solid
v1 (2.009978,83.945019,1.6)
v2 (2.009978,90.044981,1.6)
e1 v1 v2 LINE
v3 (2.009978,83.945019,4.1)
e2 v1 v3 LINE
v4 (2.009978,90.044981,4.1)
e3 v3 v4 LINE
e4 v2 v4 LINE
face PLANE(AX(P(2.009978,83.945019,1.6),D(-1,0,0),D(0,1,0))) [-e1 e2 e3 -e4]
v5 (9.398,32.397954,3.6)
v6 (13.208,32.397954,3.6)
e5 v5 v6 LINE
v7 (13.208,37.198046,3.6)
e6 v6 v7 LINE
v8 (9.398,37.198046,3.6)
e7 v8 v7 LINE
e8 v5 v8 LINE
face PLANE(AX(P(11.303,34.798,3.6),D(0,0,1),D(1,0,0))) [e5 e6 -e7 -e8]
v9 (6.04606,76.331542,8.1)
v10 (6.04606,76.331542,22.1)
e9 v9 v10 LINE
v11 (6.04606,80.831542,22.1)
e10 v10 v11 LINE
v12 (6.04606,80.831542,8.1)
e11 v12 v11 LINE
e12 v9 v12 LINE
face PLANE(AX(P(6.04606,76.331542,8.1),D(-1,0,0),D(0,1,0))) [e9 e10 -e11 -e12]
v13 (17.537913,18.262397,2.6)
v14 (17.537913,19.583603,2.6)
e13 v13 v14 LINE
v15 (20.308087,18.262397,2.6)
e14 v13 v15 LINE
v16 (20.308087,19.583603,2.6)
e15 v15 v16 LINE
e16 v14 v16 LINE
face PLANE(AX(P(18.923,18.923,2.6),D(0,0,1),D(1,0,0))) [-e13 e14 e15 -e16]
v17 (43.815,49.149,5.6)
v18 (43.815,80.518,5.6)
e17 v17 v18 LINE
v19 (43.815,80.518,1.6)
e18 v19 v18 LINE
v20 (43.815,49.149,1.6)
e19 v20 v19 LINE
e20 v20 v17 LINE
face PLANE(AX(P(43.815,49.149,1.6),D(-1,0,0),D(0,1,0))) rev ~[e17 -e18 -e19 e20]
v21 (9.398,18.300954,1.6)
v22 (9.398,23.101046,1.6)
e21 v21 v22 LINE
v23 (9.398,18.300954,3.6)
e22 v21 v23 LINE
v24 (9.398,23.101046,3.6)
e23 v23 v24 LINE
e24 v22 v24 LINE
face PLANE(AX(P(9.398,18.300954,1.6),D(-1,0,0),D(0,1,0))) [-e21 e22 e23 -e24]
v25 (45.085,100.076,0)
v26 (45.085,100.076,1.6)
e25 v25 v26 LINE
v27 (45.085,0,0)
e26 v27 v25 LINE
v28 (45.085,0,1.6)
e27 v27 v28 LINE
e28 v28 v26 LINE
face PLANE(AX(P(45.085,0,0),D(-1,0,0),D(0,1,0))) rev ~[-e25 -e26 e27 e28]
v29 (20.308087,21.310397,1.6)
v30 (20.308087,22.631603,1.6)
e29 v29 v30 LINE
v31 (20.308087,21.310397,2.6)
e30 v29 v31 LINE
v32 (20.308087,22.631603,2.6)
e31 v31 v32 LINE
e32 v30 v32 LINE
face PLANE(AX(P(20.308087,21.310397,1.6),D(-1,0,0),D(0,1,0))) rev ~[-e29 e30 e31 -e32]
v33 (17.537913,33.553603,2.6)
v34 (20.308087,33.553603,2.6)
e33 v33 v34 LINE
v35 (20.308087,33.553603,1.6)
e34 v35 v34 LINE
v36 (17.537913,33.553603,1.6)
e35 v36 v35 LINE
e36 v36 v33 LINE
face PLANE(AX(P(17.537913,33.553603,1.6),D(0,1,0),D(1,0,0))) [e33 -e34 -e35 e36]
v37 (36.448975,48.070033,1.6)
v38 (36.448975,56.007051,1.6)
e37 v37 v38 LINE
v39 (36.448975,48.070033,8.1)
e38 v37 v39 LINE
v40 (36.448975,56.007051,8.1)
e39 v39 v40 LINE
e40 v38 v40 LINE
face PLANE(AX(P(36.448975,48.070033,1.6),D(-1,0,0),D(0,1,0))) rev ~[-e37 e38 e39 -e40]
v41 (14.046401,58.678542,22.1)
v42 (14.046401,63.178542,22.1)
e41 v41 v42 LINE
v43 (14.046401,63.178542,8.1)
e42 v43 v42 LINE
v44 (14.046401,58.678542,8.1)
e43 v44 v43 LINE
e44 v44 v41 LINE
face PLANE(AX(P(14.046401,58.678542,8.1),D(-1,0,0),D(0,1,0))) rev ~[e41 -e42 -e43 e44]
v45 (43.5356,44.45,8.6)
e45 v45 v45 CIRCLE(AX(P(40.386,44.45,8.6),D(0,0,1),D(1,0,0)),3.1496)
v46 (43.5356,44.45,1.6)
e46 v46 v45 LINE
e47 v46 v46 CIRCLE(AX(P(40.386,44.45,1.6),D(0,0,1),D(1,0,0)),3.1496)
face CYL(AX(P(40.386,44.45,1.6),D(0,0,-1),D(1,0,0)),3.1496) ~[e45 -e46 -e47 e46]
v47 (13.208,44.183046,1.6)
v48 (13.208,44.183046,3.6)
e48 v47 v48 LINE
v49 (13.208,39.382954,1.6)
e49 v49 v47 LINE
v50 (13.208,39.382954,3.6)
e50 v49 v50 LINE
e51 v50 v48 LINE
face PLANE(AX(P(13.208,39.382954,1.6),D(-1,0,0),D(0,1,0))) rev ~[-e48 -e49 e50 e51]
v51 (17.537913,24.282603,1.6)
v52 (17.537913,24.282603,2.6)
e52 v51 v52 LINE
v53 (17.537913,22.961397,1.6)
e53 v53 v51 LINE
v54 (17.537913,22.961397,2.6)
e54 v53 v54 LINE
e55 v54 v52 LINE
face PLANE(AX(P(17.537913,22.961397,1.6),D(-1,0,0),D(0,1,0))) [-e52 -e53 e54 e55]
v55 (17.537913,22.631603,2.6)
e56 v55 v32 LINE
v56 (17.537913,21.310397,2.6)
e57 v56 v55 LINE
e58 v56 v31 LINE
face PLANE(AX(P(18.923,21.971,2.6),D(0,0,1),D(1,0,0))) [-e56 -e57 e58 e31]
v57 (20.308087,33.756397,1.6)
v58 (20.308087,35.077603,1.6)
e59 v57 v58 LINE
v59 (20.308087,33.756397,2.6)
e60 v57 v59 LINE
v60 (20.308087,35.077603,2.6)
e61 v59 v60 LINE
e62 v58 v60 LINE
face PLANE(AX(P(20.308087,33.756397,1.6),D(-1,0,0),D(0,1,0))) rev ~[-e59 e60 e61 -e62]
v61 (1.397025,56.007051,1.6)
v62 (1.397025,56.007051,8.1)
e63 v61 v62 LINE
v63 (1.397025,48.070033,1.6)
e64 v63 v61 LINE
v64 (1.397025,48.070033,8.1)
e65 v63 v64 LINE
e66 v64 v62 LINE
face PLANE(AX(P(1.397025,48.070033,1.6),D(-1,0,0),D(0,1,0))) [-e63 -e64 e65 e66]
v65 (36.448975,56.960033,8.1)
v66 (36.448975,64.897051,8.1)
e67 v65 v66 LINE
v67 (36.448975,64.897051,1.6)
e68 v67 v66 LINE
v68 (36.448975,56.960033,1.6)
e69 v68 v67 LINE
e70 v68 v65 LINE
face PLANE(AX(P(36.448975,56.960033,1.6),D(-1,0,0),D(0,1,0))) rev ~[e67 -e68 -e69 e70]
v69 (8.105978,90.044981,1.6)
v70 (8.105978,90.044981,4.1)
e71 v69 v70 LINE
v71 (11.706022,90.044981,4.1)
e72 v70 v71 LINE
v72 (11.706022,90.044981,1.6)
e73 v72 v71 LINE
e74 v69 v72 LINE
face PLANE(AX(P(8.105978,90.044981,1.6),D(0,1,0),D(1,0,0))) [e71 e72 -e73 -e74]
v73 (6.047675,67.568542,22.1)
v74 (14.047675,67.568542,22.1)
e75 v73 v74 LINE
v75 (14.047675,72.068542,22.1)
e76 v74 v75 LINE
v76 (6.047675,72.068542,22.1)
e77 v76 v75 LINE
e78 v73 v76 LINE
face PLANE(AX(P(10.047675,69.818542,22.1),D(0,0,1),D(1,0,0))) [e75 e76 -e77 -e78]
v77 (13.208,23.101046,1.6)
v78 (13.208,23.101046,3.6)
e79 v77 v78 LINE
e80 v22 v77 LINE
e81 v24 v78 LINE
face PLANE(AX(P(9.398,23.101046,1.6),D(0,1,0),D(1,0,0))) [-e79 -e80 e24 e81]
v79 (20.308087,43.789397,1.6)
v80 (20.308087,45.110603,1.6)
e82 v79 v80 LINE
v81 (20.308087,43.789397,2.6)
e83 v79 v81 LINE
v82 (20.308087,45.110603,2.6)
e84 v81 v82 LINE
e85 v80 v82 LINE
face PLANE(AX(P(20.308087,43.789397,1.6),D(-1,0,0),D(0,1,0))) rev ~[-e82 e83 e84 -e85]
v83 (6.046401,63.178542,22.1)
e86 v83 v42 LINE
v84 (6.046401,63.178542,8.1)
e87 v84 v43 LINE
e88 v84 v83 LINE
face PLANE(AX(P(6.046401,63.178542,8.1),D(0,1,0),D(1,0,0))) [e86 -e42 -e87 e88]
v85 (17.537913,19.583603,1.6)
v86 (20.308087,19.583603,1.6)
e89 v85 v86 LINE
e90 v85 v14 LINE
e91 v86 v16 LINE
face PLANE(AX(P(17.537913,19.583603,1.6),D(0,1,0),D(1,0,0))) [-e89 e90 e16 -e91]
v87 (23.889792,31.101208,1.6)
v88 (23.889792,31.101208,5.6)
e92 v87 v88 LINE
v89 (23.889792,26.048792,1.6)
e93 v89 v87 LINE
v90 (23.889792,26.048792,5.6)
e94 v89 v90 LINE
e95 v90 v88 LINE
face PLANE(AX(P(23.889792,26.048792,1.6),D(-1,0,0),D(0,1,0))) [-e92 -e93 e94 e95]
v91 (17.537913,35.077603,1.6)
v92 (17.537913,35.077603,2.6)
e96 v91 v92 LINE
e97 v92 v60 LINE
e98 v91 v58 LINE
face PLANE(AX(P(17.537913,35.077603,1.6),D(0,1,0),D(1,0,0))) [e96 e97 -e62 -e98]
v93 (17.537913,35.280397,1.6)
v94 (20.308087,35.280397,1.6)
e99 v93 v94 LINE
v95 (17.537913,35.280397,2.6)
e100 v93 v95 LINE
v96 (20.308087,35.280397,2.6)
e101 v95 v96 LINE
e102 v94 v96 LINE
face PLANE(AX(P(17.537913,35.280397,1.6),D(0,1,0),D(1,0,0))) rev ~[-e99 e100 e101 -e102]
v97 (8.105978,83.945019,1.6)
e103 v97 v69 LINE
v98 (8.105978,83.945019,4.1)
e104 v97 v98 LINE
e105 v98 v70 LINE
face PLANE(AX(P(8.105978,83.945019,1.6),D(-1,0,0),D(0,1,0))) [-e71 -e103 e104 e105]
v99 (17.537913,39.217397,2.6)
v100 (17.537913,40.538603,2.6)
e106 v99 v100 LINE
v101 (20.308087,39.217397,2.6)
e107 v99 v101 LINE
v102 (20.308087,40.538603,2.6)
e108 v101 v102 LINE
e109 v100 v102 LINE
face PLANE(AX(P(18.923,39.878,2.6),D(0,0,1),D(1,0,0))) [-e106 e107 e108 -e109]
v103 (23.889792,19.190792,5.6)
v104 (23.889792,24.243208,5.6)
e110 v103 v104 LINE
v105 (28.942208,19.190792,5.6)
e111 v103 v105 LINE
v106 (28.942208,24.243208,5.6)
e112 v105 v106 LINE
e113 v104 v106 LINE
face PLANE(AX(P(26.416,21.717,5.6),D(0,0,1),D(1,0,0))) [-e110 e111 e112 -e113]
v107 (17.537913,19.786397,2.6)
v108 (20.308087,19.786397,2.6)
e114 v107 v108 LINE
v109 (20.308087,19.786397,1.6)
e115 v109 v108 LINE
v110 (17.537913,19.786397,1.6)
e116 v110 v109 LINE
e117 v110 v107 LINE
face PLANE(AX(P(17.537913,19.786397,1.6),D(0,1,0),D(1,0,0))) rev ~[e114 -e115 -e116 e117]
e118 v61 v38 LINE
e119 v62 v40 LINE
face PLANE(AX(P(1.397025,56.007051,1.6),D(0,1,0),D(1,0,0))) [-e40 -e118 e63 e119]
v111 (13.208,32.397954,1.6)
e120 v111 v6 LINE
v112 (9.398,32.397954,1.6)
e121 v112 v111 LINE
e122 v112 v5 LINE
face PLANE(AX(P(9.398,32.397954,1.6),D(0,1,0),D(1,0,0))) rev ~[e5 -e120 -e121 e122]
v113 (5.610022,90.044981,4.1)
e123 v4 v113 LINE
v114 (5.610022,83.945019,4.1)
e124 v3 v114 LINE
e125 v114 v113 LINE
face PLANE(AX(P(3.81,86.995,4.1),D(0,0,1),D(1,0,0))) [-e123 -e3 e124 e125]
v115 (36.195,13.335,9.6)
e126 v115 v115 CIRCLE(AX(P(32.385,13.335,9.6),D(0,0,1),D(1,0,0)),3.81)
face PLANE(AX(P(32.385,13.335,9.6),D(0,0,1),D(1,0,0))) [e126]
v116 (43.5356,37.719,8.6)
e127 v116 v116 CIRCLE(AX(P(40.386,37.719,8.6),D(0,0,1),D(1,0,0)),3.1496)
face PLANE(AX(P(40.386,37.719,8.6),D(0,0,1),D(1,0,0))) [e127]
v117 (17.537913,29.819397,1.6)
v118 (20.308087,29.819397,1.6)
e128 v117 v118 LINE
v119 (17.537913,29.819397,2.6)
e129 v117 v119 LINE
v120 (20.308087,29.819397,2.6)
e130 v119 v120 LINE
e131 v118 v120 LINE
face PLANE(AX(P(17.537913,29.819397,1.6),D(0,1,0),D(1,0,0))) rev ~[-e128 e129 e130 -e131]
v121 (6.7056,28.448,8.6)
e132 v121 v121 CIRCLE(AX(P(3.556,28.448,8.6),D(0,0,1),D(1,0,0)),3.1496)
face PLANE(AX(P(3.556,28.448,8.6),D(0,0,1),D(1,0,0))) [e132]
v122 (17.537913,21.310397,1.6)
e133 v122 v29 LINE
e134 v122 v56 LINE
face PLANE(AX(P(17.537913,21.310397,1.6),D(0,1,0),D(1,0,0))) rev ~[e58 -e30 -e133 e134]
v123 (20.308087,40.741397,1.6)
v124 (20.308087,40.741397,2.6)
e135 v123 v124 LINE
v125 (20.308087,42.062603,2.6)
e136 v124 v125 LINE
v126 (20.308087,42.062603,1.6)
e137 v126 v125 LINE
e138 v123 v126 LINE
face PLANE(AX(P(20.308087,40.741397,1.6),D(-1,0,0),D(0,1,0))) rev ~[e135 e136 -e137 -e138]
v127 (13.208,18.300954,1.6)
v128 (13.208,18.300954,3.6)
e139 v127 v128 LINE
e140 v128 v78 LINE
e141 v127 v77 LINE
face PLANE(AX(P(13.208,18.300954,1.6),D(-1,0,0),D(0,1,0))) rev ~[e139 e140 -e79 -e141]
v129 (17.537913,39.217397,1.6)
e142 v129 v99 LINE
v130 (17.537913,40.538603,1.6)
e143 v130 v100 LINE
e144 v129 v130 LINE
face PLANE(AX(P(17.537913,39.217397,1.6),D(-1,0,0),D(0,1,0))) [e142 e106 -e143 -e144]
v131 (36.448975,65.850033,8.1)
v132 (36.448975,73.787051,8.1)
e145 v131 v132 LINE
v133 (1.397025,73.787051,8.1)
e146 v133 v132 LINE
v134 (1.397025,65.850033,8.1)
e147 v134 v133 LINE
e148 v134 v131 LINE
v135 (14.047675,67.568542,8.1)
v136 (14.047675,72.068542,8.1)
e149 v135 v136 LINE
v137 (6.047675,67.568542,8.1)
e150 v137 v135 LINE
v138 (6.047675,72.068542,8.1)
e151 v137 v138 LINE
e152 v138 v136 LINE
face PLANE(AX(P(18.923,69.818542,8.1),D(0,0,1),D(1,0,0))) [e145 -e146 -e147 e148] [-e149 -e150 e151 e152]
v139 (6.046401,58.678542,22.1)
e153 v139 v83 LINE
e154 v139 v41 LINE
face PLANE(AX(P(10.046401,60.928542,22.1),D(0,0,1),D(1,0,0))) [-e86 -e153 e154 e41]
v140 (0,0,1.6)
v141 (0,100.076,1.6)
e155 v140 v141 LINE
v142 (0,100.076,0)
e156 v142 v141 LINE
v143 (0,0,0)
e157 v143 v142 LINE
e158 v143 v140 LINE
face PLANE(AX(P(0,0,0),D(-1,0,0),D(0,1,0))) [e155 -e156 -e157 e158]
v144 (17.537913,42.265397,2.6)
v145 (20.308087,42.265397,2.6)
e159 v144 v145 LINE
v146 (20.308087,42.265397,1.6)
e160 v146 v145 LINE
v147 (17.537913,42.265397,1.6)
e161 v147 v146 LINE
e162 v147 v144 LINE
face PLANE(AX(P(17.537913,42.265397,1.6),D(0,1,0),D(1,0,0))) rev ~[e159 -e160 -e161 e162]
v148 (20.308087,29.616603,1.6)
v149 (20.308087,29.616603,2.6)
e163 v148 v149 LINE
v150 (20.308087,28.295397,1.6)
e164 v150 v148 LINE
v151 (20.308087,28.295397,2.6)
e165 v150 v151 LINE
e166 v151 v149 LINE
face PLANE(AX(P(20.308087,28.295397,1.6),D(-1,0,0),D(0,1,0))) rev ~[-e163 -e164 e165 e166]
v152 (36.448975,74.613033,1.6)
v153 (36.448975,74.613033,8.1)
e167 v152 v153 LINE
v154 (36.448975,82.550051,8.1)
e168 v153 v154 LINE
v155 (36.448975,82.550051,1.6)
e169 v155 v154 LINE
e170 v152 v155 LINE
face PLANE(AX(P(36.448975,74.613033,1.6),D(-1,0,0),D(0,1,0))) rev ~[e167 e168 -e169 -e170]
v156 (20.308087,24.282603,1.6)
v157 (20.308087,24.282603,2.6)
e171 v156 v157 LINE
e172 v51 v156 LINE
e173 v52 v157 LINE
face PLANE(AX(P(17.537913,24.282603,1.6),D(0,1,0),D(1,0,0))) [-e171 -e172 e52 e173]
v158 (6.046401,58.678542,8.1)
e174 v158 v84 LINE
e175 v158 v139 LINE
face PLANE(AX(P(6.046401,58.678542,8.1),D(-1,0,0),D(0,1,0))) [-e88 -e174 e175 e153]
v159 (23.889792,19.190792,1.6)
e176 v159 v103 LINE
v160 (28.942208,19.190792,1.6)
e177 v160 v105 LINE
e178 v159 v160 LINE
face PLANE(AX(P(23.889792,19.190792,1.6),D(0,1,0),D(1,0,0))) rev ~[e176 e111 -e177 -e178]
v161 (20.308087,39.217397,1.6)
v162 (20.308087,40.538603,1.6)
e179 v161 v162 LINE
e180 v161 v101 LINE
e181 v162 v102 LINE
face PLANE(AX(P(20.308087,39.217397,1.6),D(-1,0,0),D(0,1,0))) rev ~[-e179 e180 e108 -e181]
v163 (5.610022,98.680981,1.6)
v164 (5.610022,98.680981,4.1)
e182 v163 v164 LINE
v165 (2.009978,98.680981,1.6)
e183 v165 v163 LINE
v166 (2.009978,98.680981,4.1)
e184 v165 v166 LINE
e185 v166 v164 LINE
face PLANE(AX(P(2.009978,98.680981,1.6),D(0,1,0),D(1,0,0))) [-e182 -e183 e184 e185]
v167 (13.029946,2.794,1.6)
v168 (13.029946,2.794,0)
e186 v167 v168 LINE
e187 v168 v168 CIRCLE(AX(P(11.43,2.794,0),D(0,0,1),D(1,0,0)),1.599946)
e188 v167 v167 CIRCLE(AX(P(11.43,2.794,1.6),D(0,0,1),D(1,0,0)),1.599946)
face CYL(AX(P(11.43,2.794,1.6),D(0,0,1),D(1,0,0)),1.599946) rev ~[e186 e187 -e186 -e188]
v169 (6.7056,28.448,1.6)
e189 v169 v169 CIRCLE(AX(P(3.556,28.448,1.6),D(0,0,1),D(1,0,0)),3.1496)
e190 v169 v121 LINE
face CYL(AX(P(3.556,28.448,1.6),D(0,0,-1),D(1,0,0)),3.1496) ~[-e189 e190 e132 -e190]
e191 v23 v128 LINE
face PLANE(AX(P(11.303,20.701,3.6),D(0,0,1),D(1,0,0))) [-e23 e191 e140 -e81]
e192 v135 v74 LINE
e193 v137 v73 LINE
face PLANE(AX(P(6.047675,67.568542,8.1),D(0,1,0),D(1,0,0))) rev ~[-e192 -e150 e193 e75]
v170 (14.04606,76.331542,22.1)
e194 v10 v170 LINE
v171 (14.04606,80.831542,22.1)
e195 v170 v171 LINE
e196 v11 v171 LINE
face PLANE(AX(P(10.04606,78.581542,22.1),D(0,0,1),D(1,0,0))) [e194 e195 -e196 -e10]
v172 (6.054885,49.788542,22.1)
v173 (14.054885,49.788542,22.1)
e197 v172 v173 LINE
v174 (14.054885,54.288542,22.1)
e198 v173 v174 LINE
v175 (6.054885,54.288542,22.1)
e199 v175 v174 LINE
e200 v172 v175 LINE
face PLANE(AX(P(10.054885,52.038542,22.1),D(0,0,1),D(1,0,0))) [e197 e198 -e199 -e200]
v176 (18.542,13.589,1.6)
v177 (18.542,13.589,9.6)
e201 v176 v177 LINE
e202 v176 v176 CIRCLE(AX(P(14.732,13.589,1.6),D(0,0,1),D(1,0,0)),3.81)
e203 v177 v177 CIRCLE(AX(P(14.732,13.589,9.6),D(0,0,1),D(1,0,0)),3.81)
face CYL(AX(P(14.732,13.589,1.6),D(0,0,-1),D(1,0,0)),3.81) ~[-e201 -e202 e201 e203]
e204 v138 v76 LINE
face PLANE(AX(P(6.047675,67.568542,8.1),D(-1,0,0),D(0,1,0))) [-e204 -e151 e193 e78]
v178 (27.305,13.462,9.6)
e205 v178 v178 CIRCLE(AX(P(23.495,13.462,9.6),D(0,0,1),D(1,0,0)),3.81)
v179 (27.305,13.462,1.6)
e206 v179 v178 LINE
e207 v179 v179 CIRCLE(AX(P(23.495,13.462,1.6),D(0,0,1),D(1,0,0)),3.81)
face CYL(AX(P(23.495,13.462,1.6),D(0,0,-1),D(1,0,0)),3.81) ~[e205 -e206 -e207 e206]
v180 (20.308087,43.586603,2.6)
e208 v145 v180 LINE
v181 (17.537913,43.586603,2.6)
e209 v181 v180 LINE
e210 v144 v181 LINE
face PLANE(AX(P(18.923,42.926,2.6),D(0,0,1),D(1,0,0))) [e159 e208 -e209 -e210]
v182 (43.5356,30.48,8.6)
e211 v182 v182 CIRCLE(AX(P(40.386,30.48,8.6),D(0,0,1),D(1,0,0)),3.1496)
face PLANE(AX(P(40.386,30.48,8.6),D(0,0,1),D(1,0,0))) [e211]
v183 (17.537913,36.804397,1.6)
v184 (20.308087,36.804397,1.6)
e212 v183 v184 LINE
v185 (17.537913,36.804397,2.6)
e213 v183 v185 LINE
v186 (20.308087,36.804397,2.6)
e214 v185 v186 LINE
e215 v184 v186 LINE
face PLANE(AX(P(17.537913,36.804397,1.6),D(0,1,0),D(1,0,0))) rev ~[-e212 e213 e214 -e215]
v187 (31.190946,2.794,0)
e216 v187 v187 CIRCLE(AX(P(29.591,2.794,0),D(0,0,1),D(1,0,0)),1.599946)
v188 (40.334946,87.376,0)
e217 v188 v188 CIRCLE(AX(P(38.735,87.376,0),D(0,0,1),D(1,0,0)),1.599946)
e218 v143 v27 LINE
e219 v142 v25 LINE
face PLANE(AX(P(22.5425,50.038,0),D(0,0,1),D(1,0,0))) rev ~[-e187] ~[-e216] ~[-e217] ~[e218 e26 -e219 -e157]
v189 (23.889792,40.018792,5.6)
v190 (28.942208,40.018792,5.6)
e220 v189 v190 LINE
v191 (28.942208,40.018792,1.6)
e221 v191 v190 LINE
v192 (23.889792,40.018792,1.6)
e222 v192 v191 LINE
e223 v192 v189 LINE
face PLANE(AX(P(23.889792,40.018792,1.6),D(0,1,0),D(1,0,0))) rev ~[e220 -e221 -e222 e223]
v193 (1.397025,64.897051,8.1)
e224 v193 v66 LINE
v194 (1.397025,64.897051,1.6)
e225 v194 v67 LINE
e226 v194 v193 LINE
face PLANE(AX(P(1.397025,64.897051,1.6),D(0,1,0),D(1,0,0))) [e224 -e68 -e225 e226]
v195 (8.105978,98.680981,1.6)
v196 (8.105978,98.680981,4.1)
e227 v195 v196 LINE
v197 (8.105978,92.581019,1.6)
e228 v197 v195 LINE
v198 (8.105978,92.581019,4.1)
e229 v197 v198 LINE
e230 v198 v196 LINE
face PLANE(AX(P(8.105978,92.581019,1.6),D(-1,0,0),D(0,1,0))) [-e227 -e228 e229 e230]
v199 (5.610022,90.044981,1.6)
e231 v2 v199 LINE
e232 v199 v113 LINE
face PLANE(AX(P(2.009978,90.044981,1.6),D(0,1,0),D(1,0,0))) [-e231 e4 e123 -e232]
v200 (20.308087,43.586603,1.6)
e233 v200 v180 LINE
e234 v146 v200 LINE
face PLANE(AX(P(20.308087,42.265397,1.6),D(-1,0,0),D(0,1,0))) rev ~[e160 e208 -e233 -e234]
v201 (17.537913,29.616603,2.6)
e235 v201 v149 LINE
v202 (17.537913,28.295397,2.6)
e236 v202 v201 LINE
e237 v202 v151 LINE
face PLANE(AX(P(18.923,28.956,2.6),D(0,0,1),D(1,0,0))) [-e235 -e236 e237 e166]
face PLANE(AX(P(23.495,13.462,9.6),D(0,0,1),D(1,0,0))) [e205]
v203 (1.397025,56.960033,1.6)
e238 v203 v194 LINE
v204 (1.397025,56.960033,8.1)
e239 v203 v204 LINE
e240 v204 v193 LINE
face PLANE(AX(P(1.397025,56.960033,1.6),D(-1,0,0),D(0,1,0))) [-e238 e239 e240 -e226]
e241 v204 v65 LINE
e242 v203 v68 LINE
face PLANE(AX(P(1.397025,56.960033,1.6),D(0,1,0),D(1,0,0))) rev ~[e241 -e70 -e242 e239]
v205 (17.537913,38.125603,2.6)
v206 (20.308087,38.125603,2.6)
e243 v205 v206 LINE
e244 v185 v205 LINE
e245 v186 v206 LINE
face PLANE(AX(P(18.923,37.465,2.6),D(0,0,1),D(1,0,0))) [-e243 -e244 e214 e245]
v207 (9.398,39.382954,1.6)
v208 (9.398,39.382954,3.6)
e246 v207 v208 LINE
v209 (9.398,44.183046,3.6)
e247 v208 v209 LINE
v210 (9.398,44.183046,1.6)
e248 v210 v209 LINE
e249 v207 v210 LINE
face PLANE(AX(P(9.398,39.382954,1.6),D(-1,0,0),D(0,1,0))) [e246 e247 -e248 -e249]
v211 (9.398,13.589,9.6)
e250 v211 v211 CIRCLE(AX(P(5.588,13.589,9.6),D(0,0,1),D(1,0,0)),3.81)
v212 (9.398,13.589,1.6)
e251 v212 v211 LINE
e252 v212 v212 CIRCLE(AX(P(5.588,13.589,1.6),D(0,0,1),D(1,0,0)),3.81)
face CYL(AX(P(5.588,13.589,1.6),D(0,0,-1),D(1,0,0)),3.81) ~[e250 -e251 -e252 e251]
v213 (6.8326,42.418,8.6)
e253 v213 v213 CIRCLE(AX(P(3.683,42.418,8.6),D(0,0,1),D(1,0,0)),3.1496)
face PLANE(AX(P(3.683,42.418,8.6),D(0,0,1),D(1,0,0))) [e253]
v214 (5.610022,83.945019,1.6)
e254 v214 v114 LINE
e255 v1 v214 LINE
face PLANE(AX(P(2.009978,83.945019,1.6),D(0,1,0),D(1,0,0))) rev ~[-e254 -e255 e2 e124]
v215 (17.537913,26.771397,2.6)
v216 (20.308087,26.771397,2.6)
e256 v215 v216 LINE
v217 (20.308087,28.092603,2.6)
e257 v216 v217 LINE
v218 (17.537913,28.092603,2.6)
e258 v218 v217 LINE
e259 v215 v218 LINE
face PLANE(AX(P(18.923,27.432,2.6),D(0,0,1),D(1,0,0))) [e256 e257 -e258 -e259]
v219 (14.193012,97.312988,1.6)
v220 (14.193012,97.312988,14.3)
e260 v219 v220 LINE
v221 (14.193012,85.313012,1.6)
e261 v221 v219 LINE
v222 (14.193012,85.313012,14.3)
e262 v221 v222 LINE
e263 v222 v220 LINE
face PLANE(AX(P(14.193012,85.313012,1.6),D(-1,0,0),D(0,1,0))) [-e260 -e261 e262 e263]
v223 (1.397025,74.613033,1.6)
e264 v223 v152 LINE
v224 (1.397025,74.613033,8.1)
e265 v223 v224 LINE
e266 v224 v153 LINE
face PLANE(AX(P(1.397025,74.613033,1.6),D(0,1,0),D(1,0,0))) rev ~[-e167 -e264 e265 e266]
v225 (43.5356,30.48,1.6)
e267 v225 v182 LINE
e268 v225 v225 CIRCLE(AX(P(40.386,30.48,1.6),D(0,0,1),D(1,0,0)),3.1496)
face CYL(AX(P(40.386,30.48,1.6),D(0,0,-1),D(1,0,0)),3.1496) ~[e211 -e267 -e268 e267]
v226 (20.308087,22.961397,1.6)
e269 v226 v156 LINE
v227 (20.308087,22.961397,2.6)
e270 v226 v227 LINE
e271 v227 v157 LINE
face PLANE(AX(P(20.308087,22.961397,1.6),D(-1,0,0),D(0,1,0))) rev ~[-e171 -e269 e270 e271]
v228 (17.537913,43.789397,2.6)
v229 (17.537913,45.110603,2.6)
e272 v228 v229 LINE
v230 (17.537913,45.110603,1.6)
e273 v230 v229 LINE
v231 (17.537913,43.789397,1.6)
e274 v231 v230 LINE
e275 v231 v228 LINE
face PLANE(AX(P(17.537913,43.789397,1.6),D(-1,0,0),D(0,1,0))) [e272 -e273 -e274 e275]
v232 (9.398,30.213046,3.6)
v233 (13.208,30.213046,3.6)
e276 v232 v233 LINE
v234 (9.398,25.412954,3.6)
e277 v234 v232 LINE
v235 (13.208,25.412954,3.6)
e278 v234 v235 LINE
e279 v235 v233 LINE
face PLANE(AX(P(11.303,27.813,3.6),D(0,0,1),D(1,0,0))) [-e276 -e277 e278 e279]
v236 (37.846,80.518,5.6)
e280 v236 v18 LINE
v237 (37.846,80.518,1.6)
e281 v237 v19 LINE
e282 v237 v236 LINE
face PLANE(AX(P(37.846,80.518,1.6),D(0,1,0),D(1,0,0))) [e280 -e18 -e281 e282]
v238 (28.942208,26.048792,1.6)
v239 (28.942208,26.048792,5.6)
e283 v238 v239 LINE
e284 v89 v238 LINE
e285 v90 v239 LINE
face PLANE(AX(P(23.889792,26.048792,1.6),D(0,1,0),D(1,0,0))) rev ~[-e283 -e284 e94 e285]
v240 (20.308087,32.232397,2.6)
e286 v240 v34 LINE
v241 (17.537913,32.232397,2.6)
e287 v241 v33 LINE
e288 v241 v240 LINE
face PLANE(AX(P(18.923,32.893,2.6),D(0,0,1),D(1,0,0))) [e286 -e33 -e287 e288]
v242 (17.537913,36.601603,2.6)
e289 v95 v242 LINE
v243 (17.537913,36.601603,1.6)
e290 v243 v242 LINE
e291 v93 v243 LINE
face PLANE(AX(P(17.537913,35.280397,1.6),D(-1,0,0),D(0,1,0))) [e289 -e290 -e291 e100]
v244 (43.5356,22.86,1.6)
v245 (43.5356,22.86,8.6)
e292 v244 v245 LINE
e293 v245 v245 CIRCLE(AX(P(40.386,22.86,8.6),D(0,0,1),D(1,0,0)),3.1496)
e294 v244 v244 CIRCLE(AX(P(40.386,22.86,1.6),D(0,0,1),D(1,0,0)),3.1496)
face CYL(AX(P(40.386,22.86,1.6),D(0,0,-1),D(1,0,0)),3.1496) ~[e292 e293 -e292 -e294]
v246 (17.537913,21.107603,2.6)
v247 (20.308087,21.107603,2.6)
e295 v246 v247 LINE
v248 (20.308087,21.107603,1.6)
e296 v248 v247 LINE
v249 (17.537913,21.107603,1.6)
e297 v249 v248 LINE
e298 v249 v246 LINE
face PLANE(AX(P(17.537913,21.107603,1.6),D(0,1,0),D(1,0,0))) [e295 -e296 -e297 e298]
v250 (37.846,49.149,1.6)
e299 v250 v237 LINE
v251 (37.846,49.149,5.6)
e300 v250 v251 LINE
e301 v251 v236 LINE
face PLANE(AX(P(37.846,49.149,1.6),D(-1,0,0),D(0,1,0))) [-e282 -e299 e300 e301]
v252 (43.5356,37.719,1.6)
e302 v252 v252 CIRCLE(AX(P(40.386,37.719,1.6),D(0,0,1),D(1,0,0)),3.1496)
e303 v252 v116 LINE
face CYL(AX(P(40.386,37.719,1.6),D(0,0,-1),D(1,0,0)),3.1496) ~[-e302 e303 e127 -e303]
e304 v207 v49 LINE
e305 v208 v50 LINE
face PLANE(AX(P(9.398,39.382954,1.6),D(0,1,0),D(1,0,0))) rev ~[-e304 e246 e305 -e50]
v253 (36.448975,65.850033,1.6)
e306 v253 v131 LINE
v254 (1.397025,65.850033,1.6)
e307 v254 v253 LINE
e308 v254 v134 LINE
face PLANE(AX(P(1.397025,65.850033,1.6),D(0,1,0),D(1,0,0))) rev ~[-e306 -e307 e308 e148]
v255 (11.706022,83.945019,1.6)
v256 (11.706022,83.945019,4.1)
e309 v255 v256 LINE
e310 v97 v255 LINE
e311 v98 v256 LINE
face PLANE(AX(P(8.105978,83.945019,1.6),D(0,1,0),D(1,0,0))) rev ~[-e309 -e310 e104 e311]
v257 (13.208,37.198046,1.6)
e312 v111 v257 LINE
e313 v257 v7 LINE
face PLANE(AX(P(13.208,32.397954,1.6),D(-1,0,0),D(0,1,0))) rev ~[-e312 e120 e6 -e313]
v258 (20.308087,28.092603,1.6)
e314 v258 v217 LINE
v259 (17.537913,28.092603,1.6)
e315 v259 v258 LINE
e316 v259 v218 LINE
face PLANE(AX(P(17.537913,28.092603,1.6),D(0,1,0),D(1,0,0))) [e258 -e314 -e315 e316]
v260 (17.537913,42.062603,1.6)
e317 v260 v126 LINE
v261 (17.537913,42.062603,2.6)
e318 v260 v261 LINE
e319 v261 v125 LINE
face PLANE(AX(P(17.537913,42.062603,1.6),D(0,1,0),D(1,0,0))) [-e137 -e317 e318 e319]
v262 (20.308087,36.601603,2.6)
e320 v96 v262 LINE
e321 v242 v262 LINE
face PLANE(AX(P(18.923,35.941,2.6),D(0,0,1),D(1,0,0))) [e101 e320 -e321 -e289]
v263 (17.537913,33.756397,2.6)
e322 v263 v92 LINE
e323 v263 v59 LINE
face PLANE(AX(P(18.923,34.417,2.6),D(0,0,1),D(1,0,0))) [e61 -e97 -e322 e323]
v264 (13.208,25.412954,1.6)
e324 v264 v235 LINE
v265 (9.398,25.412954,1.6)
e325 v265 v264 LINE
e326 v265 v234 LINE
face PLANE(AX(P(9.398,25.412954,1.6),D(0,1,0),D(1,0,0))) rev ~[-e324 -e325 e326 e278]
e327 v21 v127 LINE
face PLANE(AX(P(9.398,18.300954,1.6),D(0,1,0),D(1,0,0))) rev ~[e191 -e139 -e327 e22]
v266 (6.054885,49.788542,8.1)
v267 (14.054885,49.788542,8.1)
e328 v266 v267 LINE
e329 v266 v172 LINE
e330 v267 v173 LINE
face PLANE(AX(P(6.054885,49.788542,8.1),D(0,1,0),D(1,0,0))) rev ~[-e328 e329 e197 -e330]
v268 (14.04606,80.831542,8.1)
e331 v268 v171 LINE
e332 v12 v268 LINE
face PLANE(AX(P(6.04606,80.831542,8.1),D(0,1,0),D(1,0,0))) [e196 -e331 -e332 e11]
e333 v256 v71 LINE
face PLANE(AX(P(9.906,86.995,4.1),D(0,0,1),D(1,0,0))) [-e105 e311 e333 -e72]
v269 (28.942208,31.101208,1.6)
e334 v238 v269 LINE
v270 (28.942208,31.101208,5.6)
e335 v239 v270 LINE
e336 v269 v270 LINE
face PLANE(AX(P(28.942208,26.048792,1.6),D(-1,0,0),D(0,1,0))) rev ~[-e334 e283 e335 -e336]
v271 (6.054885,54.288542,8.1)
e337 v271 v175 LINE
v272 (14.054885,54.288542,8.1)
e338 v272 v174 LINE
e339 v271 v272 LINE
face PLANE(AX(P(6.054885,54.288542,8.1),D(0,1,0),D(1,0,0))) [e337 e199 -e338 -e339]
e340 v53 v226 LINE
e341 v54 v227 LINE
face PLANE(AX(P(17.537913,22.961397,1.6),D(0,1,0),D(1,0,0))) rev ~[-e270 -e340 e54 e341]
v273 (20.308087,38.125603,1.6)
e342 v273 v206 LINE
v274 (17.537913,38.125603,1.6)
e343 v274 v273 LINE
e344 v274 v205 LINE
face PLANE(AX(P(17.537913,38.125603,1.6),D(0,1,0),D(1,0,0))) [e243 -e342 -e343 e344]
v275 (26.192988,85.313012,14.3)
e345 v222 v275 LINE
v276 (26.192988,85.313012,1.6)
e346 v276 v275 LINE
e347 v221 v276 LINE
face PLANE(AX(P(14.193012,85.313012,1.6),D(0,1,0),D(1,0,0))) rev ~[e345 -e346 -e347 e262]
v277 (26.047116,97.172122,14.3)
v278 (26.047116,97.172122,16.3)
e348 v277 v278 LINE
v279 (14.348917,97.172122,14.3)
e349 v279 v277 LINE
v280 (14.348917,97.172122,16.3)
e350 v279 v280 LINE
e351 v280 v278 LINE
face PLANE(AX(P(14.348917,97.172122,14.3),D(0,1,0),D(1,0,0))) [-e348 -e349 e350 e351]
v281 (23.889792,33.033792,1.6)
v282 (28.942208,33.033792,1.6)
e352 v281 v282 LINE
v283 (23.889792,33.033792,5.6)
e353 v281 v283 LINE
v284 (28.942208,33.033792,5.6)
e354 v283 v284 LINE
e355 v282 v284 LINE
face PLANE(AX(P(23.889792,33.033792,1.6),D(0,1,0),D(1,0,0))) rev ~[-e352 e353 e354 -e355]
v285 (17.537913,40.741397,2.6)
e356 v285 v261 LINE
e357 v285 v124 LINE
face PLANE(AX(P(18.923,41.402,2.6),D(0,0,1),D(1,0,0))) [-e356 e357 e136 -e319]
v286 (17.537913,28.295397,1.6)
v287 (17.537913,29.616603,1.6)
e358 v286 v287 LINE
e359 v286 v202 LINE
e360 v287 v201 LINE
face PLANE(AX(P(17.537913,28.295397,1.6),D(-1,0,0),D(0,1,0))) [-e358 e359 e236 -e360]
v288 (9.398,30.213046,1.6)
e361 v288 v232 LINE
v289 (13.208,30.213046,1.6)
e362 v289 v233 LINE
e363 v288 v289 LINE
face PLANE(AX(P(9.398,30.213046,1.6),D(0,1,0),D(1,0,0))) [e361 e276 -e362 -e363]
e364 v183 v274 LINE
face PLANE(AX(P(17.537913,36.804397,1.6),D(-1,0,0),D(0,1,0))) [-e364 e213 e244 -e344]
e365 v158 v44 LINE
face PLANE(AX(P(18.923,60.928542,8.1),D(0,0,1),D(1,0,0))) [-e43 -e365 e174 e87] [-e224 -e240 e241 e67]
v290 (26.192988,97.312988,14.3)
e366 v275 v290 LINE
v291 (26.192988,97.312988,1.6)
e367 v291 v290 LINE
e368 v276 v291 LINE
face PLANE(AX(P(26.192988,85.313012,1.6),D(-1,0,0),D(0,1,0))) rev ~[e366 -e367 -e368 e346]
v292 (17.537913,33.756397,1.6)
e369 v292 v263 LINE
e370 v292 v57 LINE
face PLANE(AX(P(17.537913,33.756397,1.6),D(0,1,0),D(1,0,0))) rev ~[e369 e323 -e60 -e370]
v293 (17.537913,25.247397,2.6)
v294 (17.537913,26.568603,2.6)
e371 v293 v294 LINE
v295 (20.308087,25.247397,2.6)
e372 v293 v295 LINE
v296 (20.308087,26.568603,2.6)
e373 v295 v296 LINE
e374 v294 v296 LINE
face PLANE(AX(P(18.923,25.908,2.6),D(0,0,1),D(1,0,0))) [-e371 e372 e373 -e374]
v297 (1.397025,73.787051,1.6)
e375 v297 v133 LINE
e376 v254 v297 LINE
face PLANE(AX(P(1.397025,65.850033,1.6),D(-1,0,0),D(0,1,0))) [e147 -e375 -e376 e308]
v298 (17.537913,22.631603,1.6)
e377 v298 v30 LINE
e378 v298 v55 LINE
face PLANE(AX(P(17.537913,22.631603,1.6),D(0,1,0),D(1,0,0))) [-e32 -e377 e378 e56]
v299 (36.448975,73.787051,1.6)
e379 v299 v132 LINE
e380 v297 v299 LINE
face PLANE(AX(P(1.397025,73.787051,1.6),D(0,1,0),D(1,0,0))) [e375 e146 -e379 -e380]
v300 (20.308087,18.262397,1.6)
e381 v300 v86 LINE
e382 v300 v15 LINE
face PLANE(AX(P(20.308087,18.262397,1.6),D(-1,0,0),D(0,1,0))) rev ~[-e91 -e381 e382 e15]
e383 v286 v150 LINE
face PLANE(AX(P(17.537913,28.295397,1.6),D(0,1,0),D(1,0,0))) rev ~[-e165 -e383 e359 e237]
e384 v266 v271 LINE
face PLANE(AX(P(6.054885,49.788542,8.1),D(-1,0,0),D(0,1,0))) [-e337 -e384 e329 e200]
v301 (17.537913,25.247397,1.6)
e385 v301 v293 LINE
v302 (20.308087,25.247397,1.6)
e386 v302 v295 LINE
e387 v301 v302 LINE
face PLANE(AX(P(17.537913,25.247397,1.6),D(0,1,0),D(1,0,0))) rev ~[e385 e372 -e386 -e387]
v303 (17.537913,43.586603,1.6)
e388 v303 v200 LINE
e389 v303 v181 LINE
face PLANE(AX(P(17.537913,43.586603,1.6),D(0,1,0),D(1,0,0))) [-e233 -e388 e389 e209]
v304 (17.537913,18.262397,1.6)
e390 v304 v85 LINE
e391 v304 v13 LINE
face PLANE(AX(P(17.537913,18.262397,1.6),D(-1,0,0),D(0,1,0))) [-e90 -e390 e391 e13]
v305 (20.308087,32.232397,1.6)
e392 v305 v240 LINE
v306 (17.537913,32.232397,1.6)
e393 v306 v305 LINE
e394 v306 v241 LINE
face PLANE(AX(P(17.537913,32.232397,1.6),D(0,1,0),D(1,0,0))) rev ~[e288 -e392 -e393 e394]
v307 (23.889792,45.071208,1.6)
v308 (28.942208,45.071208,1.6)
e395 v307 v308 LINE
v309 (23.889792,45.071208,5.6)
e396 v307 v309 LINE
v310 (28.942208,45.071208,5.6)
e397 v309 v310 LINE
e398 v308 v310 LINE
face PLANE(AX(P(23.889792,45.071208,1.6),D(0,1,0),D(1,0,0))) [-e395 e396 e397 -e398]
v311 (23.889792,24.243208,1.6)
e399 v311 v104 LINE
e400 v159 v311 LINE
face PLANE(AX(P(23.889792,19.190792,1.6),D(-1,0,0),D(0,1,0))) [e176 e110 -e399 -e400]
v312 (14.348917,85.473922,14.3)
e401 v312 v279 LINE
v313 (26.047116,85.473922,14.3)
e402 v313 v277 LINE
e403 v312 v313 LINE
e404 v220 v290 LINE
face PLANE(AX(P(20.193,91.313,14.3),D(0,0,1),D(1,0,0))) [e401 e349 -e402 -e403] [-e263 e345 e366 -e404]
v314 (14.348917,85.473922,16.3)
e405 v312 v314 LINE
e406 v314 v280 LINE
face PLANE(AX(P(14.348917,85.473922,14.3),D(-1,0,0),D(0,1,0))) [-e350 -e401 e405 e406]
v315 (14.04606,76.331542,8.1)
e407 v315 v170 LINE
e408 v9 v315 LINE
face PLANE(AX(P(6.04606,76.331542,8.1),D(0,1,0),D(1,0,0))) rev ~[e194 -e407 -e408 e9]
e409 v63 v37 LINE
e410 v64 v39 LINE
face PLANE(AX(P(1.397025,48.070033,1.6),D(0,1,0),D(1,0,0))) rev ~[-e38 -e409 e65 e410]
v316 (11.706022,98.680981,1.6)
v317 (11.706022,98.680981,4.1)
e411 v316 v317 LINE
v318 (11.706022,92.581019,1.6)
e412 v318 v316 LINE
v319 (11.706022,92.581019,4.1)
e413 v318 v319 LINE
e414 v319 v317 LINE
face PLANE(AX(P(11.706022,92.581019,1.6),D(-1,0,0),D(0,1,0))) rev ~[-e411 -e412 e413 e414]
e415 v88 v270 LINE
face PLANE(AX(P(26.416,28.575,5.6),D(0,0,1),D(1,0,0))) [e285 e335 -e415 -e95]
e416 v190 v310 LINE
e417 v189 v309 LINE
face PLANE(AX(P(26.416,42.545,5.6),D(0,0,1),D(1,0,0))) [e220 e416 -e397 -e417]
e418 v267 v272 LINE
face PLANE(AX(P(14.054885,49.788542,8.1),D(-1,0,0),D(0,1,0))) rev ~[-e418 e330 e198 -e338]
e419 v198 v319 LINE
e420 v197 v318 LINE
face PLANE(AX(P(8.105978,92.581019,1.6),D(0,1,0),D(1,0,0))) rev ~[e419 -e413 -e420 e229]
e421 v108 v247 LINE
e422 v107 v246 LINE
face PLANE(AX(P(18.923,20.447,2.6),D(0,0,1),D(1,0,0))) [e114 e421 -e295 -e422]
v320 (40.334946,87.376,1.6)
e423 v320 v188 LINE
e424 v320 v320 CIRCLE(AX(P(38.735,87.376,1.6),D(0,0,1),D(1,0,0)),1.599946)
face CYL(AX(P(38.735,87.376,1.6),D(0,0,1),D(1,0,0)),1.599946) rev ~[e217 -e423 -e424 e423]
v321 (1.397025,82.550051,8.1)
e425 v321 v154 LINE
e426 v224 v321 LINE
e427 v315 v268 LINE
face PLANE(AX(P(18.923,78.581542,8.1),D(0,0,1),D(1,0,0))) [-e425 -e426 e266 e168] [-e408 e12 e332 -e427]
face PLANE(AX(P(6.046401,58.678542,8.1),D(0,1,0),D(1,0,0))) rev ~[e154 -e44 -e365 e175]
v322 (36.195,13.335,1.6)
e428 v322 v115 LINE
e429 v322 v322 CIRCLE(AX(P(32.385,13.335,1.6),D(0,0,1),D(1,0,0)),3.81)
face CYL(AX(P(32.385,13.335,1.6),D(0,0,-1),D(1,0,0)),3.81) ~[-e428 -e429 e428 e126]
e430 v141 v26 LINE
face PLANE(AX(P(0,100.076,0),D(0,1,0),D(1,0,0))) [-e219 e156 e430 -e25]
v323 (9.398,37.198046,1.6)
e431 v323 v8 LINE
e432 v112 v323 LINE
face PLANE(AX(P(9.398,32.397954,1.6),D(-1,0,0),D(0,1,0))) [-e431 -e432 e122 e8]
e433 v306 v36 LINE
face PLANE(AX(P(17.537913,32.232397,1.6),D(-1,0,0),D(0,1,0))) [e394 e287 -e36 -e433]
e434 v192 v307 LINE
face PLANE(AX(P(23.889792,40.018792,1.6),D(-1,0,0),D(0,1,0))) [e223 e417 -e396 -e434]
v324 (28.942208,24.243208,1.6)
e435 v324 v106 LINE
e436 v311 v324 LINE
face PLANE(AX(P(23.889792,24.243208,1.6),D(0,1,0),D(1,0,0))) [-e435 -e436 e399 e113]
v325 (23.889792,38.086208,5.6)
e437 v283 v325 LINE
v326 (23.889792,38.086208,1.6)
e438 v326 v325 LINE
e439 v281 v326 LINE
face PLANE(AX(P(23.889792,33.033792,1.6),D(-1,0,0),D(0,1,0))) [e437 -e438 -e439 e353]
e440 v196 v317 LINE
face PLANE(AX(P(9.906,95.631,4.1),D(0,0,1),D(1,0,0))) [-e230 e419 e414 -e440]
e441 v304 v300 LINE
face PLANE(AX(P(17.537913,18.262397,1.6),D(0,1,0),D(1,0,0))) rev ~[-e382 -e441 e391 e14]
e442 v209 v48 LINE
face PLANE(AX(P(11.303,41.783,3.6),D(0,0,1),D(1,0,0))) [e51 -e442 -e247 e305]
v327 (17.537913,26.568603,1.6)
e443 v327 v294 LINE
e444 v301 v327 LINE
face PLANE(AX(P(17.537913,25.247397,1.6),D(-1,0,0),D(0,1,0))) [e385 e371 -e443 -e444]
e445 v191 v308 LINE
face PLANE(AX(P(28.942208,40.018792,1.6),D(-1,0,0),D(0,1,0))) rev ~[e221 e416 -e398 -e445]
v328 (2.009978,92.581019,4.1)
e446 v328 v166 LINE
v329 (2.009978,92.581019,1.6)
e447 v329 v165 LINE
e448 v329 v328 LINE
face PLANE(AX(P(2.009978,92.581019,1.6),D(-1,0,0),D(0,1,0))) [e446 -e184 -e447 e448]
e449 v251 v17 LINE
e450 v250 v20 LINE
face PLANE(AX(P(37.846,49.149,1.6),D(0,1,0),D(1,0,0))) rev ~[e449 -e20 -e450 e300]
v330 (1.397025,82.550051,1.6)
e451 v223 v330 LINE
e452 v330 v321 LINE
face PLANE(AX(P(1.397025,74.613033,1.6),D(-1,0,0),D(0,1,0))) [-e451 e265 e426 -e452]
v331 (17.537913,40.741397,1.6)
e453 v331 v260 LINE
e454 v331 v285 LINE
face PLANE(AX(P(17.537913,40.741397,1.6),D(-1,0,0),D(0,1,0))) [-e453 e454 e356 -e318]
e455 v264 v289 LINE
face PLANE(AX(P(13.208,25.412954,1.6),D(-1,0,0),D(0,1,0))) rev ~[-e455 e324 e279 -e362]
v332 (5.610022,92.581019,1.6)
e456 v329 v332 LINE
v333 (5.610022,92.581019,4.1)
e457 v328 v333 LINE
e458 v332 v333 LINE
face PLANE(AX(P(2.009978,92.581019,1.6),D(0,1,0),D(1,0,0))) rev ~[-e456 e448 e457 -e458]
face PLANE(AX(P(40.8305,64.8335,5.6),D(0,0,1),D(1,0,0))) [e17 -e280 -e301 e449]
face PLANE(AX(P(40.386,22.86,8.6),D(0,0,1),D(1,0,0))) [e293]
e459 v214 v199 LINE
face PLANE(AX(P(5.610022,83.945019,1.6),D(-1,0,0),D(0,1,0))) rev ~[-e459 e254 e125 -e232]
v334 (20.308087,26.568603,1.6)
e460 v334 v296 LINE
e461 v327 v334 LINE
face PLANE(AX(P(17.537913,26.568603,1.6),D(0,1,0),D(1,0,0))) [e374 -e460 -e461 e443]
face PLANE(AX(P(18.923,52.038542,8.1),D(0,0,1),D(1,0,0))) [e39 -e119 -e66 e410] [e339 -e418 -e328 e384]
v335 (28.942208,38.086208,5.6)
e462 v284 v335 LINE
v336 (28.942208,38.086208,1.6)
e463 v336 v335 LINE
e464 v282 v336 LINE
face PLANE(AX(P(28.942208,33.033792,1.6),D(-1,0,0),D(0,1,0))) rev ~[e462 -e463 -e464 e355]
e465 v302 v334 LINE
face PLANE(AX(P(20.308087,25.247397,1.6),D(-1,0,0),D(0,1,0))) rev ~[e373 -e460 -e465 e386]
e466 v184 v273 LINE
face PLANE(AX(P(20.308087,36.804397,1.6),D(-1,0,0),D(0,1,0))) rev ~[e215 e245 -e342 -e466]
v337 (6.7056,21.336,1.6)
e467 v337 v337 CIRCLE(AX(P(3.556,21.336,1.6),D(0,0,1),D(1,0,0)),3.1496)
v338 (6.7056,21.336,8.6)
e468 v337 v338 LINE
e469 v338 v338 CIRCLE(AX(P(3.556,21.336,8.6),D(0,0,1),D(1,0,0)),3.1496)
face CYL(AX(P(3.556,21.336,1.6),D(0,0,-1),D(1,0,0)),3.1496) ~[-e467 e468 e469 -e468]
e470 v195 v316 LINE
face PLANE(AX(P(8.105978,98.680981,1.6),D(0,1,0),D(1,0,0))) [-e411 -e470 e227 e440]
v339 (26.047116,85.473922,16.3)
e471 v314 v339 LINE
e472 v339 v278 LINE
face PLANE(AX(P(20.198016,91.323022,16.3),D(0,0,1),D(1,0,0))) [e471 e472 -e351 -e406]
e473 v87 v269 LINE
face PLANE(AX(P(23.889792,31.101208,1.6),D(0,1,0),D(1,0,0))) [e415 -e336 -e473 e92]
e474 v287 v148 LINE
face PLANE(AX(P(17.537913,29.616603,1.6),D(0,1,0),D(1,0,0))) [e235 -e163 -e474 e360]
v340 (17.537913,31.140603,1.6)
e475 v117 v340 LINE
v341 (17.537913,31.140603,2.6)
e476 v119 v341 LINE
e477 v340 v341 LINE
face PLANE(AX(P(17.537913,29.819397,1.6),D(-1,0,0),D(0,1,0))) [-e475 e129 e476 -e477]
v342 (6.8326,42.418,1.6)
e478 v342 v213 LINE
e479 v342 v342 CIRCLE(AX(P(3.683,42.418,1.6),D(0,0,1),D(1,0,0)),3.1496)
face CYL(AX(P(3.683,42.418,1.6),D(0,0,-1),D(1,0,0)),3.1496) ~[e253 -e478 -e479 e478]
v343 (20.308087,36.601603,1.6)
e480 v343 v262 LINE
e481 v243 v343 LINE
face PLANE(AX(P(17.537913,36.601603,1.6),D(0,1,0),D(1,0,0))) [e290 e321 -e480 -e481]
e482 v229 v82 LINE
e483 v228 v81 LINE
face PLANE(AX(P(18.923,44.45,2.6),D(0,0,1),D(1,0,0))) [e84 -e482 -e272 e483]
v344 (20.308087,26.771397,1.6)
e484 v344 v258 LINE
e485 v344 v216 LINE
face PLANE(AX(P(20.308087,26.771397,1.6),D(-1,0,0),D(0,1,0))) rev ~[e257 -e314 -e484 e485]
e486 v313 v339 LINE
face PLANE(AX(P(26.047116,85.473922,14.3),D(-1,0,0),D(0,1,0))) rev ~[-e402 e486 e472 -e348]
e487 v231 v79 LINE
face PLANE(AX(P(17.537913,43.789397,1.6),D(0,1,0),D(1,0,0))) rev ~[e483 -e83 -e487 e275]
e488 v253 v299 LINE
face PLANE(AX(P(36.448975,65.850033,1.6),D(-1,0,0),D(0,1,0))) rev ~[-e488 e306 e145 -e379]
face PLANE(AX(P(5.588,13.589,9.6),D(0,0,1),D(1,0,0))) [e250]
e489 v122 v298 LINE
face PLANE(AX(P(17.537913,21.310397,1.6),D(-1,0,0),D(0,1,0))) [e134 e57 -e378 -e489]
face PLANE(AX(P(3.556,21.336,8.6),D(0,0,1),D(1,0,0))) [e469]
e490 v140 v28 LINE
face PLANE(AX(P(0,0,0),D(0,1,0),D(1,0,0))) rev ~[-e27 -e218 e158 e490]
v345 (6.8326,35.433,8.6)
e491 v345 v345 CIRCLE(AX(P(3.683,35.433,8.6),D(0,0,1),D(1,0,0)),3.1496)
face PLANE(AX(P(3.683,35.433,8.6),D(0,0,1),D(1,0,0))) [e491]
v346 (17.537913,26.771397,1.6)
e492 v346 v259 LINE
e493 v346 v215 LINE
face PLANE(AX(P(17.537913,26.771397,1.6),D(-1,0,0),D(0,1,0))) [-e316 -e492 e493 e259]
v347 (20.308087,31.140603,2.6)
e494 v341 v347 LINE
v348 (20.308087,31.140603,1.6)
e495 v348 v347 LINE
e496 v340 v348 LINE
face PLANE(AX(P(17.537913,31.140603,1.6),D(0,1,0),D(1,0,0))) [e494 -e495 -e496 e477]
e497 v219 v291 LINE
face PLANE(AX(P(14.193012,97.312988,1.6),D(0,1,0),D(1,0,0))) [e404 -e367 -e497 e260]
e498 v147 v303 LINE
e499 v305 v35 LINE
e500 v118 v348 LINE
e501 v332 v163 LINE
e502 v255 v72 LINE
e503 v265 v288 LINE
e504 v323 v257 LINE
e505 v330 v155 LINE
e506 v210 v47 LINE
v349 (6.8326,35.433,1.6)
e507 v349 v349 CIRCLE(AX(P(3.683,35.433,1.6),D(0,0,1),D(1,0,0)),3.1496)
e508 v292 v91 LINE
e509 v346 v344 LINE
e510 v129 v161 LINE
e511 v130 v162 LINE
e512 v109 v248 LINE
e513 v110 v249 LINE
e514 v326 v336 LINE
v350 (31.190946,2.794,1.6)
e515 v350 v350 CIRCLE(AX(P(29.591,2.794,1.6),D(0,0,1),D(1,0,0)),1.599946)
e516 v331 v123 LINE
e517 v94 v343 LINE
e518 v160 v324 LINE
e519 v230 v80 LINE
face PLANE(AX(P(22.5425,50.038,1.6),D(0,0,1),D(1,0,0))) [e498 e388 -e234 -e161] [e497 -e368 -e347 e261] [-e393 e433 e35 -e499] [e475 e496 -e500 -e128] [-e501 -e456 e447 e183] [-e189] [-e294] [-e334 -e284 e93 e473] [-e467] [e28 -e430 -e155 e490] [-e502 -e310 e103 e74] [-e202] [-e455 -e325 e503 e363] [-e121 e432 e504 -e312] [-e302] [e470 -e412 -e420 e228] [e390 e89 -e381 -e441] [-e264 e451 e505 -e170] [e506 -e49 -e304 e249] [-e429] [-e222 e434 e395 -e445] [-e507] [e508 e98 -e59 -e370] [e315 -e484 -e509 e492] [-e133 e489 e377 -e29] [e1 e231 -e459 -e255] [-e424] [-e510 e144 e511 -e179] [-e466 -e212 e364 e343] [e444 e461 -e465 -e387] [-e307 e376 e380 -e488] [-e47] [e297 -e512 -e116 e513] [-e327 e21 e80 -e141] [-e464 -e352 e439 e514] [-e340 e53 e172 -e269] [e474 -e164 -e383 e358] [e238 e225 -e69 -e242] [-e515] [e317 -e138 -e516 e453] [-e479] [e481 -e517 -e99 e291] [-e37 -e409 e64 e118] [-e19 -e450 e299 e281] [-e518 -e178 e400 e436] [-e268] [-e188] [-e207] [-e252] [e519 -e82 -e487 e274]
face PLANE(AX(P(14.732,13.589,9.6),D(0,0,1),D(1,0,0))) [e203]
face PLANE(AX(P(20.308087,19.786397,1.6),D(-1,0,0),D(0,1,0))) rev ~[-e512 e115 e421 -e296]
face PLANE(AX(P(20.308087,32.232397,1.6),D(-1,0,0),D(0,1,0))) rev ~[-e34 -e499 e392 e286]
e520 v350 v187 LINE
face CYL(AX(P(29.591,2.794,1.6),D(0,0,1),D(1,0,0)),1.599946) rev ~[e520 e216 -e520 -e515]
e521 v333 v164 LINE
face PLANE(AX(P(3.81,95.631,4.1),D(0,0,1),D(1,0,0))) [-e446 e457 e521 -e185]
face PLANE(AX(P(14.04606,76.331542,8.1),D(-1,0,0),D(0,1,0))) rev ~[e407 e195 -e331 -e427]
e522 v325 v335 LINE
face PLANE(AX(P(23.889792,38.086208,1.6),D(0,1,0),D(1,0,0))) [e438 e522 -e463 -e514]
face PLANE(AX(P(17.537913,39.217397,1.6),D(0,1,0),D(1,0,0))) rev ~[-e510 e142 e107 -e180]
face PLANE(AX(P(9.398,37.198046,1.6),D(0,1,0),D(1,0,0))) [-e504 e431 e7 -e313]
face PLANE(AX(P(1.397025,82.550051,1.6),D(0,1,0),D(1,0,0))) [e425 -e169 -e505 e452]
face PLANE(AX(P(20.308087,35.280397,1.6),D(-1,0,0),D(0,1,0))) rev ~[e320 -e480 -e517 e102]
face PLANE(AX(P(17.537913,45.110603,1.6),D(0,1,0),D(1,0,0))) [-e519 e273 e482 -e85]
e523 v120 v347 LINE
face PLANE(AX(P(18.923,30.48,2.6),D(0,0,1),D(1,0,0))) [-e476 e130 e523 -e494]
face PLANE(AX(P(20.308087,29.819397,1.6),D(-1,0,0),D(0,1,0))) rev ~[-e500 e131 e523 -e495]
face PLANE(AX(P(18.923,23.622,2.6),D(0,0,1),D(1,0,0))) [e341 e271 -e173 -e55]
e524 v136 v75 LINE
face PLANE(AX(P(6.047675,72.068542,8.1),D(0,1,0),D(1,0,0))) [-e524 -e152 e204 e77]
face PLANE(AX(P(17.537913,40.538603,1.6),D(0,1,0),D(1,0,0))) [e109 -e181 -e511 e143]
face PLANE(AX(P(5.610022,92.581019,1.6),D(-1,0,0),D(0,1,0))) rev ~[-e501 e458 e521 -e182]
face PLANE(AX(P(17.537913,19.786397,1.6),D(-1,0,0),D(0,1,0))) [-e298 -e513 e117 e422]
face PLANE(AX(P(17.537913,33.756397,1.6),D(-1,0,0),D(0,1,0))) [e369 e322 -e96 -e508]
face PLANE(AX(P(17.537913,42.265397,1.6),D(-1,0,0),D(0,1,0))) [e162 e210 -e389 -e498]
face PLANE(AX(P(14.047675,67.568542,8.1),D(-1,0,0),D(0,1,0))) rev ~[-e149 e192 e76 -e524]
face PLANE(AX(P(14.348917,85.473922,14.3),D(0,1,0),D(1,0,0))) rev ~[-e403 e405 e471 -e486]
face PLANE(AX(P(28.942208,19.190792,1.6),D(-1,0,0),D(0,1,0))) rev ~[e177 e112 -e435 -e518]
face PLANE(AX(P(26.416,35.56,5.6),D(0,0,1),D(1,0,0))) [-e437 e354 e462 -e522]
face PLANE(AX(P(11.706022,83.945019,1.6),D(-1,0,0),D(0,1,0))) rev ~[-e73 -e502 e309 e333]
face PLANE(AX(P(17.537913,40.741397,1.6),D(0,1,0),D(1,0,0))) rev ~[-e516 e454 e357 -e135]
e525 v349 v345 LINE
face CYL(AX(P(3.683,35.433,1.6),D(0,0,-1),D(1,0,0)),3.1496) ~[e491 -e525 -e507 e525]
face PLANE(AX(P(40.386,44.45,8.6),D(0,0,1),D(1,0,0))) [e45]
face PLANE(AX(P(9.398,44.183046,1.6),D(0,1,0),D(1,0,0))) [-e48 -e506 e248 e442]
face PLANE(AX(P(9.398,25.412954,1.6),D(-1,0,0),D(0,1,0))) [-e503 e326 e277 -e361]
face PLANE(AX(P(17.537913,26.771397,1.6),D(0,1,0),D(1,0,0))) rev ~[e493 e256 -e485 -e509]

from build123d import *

# Parameters (mm, degrees)
SKETCH_2_W          = 45.085
SKETCH_2_H          = 100.076
EXTRUDE_1_DEPTH     = 1.6
SKETCH_3_W          = 3.6000436
SKETCH_3_H          = 6.0999624
EXTRUDE_2_DEPTH     = 2.5
SKETCH_4_W          = 35.0519492
SKETCH_4_H          = 7.9370174
EXTRUDE_3_DEPTH     = 6.5
SKETCH_5_W          = 8
SKETCH_5_H          = 4.5
EXTRUDE_4_DEPTH     = 14
SKETCH_6_W          = 11.999976
SKETCH_6_H          = 11.999976
EXTRUDE_5_DEPTH     = 12.7
SKETCH_8_W          = 11.69819953
SKETCH_8_H          = 11.69819953
EXTRUDE_8_DEPTH     = 2
SKETCH_9_R          = 1.599946
CUT_EXTRUDE_1_DEPTH = 2
SKETCH_10_R         = 3.81
EXTRUDE_9_DEPTH     = 8
SKETCH_11_W         = 5.969
SKETCH_11_H         = 31.369
EXTRUDE_10_DEPTH    = 4
SKETCH_12_W         = 3.81
SKETCH_12_H         = 4.800092
EXTRUDE_11_DEPTH    = 2
SKETCH_13_R         = 3.1496
EXTRUDE_12_DEPTH    = 7
SKETCH_14_W         = 2.7701748
SKETCH_14_H         = 1.3212064
EXTRUDE_13_DEPTH    = 1
SKETCH_15_W         = 5.0524156
SKETCH_15_H         = 5.0524156
EXTRUDE_14_DEPTH    = 4


with BuildPart() as part:
    # 草图2 → 凸台-拉伸1 (new body)
    with BuildSketch(Plane.XY):
        with Locations((22.5425, 50.038)):
            Rectangle(SKETCH_2_W, SKETCH_2_H)
    extrude(amount=EXTRUDE_1_DEPTH)

    # 草图3 → 凸台-拉伸2 (add)
    with BuildSketch(Plane.XY.offset(1.6)):
        with Locations((3.81, 95.631)):
            Rectangle(SKETCH_3_W, SKETCH_3_H)
        with Locations((9.906, 95.631)):
            Rectangle(SKETCH_3_W, SKETCH_3_H)
        with Locations((3.81, 86.995)):
            Rectangle(SKETCH_3_W, SKETCH_3_H)
        with Locations((9.906, 86.995)):
            Rectangle(SKETCH_3_W, SKETCH_3_H)
    extrude(amount=EXTRUDE_2_DEPTH)

    # 草图4 → 凸台-拉伸3 (add)
    with BuildSketch(Plane.XY.offset(1.6)):
        with Locations((18.923, 78.5815421)):
            Rectangle(SKETCH_4_W, SKETCH_4_H)
        with Locations((18.923, 69.8185421)):
            Rectangle(SKETCH_4_W, SKETCH_4_H)
        with Locations((18.923, 60.9285421)):
            Rectangle(SKETCH_4_W, SKETCH_4_H)
        with Locations((18.923, 52.0385421)):
            Rectangle(SKETCH_4_W, SKETCH_4_H)
    extrude(amount=EXTRUDE_3_DEPTH)

    # 草图5 → 凸台-拉伸4 (add)
    with BuildSketch(Plane.XY.offset(8.1)):
        with Locations((10.046059562, 78.5815421)):
            Rectangle(SKETCH_5_W, SKETCH_5_H)
        with Locations((10.047675227, 69.8185421)):
            Rectangle(SKETCH_5_W, SKETCH_5_H)
        with Locations((10.046401334, 60.9285421)):
            Rectangle(SKETCH_5_W, SKETCH_5_H)
        with Locations((10.054884801, 52.0385421)):
            Rectangle(SKETCH_5_W, SKETCH_5_H)
    extrude(amount=EXTRUDE_4_DEPTH)

    # 草图6 → 凸台-拉伸5 (add)
    with BuildSketch(Plane.XY.offset(1.6)):
        with Locations((20.193, 91.313)):
            Rectangle(SKETCH_6_W, SKETCH_6_H)
    extrude(amount=EXTRUDE_5_DEPTH)

    # 草图8 → 凸台-拉伸8 (add)
    with BuildSketch(Plane.XY.offset(14.3)):
        with Locations((20.198016327, 91.323022246)):
            Rectangle(SKETCH_8_W, SKETCH_8_H)
    extrude(amount=EXTRUDE_8_DEPTH)

    # 草图9 → 切除-拉伸1 (cut)
    with BuildSketch(Plane.XY.offset(1.6)):
        with Locations((38.735, 87.376)):
            Circle(SKETCH_9_R)
        with Locations((29.591, 2.794)):
            Circle(SKETCH_9_R)
        with Locations((11.43, 2.794)):
            Circle(SKETCH_9_R)
    extrude(amount=-CUT_EXTRUDE_1_DEPTH, mode=Mode.SUBTRACT)

    # 草图10 → 凸台-拉伸9 (add)
    with BuildSketch(Plane.XY.offset(1.6)):
        with Locations((5.588, 13.589)):
            Circle(SKETCH_10_R)
        with Locations((14.732, 13.589)):
            Circle(SKETCH_10_R)
        with Locations((23.495, 13.462)):
            Circle(SKETCH_10_R)
        with Locations((32.385, 13.335)):
            Circle(SKETCH_10_R)
    extrude(amount=EXTRUDE_9_DEPTH)

    # 草图11 → 凸台-拉伸10 (add)
    with BuildSketch(Plane.XY.offset(1.6)):
        with Locations((40.8305, 64.8335)):
            Rectangle(SKETCH_11_W, SKETCH_11_H)
    extrude(amount=EXTRUDE_10_DEPTH)

    # 草图12 → 凸台-拉伸11 (add)
    with BuildSketch(Plane.XY.offset(1.6)):
        with Locations((11.303, 41.783)):
            Rectangle(SKETCH_12_W, SKETCH_12_H)
        with Locations((11.303, 34.798)):
            Rectangle(SKETCH_12_W, SKETCH_12_H)
        with Locations((11.303, 27.813)):
            Rectangle(SKETCH_12_W, SKETCH_12_H)
        with Locations((11.303, 20.701)):
            Rectangle(SKETCH_12_W, SKETCH_12_H)
    extrude(amount=EXTRUDE_11_DEPTH)

    # 草图13 → 凸台-拉伸12 (add)
    with BuildSketch(Plane.XY.offset(1.6)):
        with Locations((3.683, 42.418)):
            Circle(SKETCH_13_R)
        with Locations((3.683, 35.433)):
            Circle(SKETCH_13_R)
        with Locations((3.556, 28.448)):
            Circle(SKETCH_13_R)
        with Locations((3.556, 21.336)):
            Circle(SKETCH_13_R)
        with Locations((40.386, 44.45)):
            Circle(SKETCH_13_R)
        with Locations((40.386, 37.719)):
            Circle(SKETCH_13_R)
        with Locations((40.386, 30.48)):
            Circle(SKETCH_13_R)
        with Locations((40.386, 22.86)):
            Circle(SKETCH_13_R)
    extrude(amount=EXTRUDE_12_DEPTH)

    # 草图14 → 凸台-拉伸13 (add)
    with BuildSketch(Plane.XY.offset(1.6)):
        with Locations((18.923, 44.45)):
            Rectangle(SKETCH_14_W, SKETCH_14_H)
        with Locations((18.923, 42.926)):
            Rectangle(SKETCH_14_W, SKETCH_14_H)
        with Locations((18.923, 41.402)):
            Rectangle(SKETCH_14_W, SKETCH_14_H)
        with Locations((18.923, 39.878)):
            Rectangle(SKETCH_14_W, SKETCH_14_H)
        with Locations((18.923, 37.465)):
            Rectangle(SKETCH_14_W, SKETCH_14_H)
        with Locations((18.923, 35.941)):
            Rectangle(SKETCH_14_W, SKETCH_14_H)
        with Locations((18.923, 34.417)):
            Rectangle(SKETCH_14_W, SKETCH_14_H)
        with Locations((18.923, 32.893)):
            Rectangle(SKETCH_14_W, SKETCH_14_H)
        with Locations((18.923, 30.48)):
            Rectangle(SKETCH_14_W, SKETCH_14_H)
        with Locations((18.923, 18.923)):
            Rectangle(SKETCH_14_W, SKETCH_14_H)
        with Locations((18.923, 20.447)):
            Rectangle(SKETCH_14_W, SKETCH_14_H)
        with Locations((18.923, 21.971)):
            Rectangle(SKETCH_14_W, SKETCH_14_H)
        with Locations((18.923, 23.622)):
            Rectangle(SKETCH_14_W, SKETCH_14_H)
        with Locations((18.923, 25.908)):
            Rectangle(SKETCH_14_W, SKETCH_14_H)
        with Locations((18.923, 27.432)):
            Rectangle(SKETCH_14_W, SKETCH_14_H)
        with Locations((18.923, 28.956)):
            Rectangle(SKETCH_14_W, SKETCH_14_H)
    extrude(amount=EXTRUDE_13_DEPTH)

    # 草图15 → 凸台-拉伸14 (add)
    with BuildSketch(Plane.XY.offset(1.6)):
        with Locations((26.416, 42.545)):
            Rectangle(SKETCH_15_W, SKETCH_15_H)
        with Locations((26.416, 35.56)):
            Rectangle(SKETCH_15_W, SKETCH_15_H)
        with Locations((26.416, 28.575)):
            Rectangle(SKETCH_15_W, SKETCH_15_H)
        with Locations((26.416, 21.717)):
            Rectangle(SKETCH_15_W, SKETCH_15_H)
    extrude(amount=EXTRUDE_14_DEPTH)


solid = part.part
